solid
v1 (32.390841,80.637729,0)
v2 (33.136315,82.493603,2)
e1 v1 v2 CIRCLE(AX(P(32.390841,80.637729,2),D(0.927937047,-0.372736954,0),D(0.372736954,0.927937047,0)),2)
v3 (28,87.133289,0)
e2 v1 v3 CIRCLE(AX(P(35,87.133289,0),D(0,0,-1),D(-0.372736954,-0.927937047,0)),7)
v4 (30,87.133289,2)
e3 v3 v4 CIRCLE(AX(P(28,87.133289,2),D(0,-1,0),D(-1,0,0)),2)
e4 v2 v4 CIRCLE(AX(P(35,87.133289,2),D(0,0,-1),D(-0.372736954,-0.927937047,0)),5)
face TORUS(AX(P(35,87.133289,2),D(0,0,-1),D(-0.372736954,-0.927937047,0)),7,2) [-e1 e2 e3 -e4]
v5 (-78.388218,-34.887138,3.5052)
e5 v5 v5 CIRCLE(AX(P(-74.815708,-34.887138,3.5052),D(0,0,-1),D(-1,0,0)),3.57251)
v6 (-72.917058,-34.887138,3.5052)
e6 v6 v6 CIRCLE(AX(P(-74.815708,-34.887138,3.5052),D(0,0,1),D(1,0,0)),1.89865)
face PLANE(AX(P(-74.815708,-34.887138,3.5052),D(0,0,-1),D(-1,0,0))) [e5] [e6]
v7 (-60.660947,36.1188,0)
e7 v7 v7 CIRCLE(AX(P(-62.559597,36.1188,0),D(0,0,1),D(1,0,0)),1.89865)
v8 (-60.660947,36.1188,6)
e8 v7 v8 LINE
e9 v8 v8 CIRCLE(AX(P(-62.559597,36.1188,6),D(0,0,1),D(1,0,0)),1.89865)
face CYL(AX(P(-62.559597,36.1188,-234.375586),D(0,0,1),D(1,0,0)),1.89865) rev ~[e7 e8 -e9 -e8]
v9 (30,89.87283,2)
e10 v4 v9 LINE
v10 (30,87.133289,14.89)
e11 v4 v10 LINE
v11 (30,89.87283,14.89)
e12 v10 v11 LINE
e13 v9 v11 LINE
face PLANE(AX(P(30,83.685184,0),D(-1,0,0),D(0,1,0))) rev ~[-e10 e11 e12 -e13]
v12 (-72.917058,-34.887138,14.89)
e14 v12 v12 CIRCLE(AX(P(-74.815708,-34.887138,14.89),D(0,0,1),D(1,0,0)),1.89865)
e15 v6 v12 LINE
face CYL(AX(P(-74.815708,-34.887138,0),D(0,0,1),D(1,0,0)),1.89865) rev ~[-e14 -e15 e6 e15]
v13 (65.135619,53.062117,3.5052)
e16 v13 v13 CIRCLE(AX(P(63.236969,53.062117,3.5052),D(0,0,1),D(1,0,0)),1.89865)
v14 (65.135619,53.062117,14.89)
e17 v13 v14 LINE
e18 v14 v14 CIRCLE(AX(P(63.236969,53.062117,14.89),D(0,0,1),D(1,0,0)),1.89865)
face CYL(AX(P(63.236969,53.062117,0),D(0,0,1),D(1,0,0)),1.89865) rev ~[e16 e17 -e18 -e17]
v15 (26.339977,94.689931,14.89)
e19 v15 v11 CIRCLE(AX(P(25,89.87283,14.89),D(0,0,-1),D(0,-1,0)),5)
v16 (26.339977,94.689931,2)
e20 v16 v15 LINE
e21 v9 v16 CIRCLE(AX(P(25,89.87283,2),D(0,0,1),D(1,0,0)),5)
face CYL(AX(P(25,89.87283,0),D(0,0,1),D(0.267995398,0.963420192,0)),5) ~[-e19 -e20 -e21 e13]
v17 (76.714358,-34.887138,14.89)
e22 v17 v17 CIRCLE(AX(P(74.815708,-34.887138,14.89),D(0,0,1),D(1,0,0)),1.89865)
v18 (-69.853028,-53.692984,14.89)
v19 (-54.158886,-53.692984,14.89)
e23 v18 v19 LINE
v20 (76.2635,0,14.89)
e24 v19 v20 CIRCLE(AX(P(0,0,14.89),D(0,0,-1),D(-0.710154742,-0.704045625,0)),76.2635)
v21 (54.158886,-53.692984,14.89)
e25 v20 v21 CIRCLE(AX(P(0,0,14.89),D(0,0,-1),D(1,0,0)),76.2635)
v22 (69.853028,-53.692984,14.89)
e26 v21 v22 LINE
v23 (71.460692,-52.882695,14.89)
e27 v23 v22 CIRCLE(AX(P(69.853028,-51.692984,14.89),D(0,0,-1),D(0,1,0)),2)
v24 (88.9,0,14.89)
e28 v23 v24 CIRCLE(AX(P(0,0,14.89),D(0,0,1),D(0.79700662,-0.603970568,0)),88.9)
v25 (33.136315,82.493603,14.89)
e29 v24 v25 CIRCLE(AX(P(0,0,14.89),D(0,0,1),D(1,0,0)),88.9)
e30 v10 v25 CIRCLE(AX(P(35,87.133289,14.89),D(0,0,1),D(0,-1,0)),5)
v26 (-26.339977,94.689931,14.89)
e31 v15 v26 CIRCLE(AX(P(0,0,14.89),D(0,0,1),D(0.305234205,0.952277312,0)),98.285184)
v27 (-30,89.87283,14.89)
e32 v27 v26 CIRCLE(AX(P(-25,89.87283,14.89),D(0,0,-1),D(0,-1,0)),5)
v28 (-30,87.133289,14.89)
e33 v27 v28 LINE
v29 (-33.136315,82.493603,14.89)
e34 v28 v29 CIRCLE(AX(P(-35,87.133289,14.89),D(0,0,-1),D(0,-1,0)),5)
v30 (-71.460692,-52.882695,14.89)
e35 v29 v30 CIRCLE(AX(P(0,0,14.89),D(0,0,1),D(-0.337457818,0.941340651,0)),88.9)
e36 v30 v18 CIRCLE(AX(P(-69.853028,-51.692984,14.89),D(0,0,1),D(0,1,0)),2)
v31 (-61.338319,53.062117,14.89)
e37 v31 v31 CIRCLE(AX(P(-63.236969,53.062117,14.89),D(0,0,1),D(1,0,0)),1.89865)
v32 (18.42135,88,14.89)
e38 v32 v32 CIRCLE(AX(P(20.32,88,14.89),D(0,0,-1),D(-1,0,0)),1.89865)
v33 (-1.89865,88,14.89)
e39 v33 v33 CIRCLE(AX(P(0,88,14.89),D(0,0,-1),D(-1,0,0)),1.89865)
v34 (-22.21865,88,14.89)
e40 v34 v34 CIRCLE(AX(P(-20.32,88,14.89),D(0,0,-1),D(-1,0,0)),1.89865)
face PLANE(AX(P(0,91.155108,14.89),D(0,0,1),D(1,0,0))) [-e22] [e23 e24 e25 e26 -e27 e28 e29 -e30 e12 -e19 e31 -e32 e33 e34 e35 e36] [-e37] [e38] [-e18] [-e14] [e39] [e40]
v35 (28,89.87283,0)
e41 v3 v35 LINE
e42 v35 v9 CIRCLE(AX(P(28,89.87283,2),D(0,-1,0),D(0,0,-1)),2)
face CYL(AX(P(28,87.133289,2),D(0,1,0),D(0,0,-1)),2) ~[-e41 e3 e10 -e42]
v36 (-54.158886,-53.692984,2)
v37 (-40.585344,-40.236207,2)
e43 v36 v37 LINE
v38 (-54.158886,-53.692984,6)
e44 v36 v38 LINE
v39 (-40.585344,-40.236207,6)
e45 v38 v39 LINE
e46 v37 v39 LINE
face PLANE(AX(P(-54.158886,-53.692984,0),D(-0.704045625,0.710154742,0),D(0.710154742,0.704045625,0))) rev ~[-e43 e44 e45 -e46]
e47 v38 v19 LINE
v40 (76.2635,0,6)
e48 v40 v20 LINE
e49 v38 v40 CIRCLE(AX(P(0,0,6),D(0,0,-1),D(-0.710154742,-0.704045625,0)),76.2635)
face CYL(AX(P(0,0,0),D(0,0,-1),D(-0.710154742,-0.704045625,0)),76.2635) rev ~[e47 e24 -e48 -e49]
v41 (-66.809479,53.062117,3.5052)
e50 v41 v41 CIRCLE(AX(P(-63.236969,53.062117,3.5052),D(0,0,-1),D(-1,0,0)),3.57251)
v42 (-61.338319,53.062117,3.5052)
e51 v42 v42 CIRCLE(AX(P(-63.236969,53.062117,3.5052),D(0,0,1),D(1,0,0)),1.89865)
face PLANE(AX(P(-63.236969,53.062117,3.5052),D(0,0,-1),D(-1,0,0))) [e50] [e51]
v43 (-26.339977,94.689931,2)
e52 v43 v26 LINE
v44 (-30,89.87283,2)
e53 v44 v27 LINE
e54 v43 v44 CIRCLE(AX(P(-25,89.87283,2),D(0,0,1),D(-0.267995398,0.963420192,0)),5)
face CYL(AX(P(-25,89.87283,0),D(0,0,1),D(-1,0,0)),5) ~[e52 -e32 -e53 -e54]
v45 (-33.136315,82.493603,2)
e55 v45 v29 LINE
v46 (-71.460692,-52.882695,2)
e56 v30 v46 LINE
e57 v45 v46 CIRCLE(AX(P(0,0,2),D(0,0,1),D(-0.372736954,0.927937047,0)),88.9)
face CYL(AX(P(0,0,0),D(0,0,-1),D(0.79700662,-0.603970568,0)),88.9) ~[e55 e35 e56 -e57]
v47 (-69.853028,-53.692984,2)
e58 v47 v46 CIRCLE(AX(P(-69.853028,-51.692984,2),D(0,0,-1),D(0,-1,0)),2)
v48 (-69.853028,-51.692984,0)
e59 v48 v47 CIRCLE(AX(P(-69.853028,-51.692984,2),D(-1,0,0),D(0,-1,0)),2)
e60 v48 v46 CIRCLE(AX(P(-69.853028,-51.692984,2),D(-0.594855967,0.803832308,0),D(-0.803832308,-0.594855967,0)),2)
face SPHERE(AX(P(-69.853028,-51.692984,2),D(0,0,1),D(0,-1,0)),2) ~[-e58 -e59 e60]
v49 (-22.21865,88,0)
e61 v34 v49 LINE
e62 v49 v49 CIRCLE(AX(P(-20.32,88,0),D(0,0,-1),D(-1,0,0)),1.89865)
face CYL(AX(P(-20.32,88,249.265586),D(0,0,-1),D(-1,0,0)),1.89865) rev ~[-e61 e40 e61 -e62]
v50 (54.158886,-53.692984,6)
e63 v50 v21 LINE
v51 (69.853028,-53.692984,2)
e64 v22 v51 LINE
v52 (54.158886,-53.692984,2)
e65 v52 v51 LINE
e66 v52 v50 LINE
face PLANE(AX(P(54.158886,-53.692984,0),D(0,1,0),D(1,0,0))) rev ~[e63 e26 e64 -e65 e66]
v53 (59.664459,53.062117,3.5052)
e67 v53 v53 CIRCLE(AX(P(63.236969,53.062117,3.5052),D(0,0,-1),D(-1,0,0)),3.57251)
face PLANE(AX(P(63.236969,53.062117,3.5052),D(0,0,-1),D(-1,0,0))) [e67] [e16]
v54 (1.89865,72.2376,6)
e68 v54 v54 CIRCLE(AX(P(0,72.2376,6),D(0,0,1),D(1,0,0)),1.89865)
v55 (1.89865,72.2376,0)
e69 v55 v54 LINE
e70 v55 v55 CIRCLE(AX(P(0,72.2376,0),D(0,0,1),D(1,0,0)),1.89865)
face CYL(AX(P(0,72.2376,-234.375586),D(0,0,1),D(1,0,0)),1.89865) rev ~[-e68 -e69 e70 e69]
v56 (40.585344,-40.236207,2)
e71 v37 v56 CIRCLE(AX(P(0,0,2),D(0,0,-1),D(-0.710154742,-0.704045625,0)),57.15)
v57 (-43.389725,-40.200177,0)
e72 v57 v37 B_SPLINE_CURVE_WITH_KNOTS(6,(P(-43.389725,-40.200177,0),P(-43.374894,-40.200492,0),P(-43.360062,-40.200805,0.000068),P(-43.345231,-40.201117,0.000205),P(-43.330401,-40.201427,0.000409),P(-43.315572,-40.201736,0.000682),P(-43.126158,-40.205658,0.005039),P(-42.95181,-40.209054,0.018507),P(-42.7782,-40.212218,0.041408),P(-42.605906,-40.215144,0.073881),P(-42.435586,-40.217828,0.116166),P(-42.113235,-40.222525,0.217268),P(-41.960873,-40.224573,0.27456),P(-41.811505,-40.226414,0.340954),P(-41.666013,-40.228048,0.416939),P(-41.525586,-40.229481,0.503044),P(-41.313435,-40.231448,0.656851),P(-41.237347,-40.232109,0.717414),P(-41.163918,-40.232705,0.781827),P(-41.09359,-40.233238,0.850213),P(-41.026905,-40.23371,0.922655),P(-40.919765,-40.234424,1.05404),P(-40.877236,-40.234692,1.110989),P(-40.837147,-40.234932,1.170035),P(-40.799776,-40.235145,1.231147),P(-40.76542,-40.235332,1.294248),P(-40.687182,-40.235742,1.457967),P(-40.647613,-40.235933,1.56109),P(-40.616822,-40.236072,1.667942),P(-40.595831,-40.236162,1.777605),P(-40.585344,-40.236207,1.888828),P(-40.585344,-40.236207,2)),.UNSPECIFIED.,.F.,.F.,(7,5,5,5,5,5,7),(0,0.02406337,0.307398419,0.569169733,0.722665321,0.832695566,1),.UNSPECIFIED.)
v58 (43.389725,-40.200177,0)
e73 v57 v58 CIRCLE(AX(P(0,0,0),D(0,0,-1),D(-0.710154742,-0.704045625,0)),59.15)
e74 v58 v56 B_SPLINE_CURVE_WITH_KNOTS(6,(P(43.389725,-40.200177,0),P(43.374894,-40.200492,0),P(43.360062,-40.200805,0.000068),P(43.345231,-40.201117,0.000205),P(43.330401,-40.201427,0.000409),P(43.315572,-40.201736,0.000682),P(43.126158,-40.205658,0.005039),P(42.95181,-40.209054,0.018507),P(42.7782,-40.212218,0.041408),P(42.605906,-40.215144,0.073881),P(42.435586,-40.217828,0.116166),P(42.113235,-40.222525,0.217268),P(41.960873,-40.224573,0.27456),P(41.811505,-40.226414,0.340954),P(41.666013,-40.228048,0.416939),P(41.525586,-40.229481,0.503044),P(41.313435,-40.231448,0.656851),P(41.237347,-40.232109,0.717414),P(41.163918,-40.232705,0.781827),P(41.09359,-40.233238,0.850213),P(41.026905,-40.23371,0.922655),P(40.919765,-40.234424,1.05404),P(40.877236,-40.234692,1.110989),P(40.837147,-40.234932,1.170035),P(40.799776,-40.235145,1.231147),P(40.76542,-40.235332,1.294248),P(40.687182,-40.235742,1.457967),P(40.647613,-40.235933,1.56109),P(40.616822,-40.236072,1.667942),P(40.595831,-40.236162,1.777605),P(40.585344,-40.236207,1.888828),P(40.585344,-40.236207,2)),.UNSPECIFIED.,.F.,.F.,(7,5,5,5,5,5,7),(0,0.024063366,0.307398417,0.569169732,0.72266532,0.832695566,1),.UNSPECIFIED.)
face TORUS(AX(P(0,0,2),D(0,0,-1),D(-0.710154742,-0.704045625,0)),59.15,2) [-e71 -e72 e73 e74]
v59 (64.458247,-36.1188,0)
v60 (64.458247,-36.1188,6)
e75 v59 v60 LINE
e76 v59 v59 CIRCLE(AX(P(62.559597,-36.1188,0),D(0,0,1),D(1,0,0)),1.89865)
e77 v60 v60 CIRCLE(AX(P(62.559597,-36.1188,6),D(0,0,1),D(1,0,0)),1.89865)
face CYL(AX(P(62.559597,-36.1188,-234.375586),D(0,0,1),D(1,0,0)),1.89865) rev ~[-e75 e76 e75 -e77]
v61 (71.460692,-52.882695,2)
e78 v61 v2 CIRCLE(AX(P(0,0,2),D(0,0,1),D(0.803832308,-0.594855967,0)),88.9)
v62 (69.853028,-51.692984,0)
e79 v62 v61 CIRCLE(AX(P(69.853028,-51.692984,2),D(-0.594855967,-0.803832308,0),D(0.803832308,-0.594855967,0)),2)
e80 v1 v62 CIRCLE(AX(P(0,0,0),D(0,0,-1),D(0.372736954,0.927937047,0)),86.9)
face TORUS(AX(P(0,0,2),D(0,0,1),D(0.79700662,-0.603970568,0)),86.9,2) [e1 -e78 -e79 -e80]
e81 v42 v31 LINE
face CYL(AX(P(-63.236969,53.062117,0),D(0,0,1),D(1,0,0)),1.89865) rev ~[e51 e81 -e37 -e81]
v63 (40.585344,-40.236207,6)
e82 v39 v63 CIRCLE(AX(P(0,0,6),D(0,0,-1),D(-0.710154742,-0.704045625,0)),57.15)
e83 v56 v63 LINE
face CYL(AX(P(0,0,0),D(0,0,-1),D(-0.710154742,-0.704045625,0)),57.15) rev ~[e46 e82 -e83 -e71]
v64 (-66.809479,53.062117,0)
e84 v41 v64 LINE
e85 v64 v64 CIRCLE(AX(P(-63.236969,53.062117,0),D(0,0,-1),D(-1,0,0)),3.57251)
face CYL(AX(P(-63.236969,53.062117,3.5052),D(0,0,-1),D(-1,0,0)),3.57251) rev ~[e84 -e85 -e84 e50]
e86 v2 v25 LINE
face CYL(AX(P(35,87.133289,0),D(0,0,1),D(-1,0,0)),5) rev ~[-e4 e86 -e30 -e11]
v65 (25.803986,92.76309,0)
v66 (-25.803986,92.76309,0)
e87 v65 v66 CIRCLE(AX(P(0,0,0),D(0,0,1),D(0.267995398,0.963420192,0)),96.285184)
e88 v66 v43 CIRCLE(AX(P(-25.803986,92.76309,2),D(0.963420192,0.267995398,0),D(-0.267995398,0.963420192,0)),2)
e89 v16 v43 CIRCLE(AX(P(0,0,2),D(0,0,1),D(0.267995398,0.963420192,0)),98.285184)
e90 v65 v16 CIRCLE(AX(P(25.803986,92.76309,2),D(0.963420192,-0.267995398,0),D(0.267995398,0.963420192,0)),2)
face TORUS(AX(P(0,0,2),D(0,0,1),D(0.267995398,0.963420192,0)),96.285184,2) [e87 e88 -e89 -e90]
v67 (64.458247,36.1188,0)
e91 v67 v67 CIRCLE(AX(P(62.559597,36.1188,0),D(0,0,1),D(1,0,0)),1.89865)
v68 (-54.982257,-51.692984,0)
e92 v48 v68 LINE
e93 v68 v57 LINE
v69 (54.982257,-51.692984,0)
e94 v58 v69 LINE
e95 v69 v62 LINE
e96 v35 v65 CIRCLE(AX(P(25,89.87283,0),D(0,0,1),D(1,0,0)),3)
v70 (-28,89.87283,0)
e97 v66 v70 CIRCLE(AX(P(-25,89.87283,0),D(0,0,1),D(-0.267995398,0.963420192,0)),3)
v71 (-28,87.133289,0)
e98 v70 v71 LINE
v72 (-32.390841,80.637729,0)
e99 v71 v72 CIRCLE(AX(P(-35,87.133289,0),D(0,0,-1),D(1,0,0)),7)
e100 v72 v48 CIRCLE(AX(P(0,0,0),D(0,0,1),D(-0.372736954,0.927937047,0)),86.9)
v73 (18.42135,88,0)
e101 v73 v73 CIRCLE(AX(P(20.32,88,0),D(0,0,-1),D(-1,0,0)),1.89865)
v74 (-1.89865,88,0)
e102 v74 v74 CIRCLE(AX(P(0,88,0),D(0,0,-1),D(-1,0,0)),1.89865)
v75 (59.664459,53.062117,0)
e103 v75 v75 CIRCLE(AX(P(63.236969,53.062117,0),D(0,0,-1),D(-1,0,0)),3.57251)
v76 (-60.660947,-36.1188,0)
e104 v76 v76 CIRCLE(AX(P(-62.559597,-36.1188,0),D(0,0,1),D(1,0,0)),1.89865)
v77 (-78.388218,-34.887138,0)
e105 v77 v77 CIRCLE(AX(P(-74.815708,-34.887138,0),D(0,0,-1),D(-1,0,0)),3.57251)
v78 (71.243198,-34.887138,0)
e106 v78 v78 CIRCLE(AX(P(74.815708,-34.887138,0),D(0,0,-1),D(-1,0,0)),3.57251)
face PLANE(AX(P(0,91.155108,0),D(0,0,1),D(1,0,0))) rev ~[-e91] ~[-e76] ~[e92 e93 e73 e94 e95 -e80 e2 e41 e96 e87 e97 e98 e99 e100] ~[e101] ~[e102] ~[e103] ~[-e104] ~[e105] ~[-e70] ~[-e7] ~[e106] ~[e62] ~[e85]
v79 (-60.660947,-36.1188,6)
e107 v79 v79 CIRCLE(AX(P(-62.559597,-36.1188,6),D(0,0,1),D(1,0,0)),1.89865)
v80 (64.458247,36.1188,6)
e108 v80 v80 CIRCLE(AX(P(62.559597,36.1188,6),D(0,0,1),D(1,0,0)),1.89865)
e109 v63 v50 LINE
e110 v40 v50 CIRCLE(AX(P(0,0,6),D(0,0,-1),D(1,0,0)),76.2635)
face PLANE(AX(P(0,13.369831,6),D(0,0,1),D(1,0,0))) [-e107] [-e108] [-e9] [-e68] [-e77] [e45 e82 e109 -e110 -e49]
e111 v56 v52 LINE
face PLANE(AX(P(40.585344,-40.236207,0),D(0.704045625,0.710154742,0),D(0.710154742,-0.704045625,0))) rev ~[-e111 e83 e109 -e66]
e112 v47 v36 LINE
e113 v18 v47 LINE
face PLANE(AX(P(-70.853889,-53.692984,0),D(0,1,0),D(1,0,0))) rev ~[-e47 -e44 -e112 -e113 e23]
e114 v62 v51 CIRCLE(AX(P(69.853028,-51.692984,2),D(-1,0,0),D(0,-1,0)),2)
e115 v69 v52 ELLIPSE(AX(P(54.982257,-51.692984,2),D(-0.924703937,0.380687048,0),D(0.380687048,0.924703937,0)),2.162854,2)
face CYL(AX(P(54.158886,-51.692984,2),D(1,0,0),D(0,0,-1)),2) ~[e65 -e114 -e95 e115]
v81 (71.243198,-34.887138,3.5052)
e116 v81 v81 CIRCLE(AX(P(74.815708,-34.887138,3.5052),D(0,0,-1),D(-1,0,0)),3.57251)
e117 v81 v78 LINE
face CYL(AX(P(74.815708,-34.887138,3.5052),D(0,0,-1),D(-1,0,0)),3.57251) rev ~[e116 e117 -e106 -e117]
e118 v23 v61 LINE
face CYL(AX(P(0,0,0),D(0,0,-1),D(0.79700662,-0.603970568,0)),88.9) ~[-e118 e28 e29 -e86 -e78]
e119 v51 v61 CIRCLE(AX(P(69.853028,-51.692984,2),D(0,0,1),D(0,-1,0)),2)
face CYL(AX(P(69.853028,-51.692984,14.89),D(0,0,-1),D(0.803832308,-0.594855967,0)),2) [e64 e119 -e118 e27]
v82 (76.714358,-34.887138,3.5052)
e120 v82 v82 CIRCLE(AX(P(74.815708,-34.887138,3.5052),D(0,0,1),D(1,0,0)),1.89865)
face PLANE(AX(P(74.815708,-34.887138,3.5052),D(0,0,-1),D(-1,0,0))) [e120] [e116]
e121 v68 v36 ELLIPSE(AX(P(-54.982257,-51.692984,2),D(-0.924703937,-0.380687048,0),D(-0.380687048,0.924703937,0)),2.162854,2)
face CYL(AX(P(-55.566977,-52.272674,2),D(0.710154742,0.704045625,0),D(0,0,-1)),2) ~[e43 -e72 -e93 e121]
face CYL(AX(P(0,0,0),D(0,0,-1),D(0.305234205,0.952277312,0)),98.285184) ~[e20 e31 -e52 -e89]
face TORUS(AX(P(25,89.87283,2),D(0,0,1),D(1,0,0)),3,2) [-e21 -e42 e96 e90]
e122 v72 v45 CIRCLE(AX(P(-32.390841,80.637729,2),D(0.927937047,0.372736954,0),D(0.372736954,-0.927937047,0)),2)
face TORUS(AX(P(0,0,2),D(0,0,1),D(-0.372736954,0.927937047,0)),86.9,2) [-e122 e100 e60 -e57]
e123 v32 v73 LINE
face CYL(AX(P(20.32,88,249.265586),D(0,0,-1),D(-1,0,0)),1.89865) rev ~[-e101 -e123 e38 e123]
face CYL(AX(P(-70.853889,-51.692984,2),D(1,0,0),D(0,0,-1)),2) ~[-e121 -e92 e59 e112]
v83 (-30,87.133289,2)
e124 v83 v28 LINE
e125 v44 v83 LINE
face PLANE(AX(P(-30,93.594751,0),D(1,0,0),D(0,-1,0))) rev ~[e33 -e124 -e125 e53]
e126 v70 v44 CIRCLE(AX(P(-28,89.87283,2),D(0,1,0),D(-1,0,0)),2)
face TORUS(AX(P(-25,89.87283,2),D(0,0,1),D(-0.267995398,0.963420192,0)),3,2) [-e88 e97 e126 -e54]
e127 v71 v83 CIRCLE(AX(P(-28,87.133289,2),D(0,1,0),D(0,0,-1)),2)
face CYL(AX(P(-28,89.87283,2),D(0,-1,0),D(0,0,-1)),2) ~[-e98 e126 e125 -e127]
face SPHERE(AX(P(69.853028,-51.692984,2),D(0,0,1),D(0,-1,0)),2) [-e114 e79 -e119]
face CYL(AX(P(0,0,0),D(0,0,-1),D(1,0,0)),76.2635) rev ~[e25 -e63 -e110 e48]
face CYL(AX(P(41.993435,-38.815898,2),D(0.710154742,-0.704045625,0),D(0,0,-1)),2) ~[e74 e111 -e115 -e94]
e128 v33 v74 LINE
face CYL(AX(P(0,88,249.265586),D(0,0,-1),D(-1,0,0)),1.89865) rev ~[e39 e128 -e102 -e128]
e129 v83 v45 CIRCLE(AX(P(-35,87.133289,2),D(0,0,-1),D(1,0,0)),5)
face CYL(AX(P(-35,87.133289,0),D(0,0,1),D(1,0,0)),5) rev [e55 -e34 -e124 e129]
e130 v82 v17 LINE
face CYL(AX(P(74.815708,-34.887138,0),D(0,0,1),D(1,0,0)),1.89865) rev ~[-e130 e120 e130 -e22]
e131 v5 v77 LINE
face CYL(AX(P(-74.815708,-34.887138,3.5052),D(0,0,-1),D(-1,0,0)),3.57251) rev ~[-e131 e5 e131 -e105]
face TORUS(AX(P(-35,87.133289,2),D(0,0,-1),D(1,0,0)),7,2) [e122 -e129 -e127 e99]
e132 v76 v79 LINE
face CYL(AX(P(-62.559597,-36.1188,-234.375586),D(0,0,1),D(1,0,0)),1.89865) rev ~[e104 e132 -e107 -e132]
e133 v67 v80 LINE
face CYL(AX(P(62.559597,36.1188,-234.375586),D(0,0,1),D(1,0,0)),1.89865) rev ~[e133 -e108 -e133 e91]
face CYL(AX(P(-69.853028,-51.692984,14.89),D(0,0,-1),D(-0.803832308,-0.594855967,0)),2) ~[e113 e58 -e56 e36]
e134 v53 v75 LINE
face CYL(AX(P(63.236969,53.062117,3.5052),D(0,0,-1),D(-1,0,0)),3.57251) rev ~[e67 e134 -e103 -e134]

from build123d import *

# Parameters (mm, degrees)
BOSS_EXTRUDE1_DEPTH                            = 6
BOSS_EXTRUDE2_DEPTH                            = 14.89
BOSS_EXTRUDE3_DEPTH                            = 14.89
CBORE_FOR_6_SOCKET_HEAD_CAP_SCREW1_D           = 3.7973
CBORE_FOR_6_SOCKET_HEAD_CAP_SCREW1_CBORE_D     = 7.14502
CBORE_FOR_6_SOCKET_HEAD_CAP_SCREW1_CBORE_DEPTH = 3.5052
F_6_CLEARANCE_HOLE1_D                          = 3.7973
FILLET1_R                                      = 5
FILLET2_R                                      = 5
FILLET3_R                                      = 2
F_6_CLEARANCE_HOLE2_D                          = 3.7973


with BuildPart() as part:
    # Sketch1 → Boss-Extrude1 (new body)
    with BuildSketch(Plane.XY):
        with BuildLine():
            Line((-70.853888546, -53.692983507), (-54.158886199, -53.692983507))
            Line((-54.158886199, -53.692983507), (-40.58534353, -40.236207458))
            ThreePointArc((-40.58534353, -40.236207458), (0, 57.15), (40.58534353, -40.236207458))
            Line((40.58534353, -40.236207458), (54.158886199, -53.692983507))
            Line((54.158886199, -53.692983507), (70.853888546, -53.692983507))
            ThreePointArc((70.853888546, -53.692983507), (0, 88.9), (-70.853888546, -53.692983507))
        make_face()
    extrude(amount=BOSS_EXTRUDE1_DEPTH)

    # Sketch1<3> → Boss-Extrude2 (add)
    with BuildSketch(Plane.XY):
        with BuildLine():
            ThreePointArc((30, 83.685183874), (0, 88.9), (-30, 83.685183874))
            ThreePointArc((-30, 83.685183874), (-85.211894281, 25.340542083), (-70.853888546, -53.692983507))
            Line((-70.853888546, -53.692983507), (-54.158886199, -53.692983507))
            ThreePointArc((-54.158886199, -53.692983507), (-29.032526712, 70.521158704), (76.2635, 0))
            ThreePointArc((76.2635, 0), (70.521158704, -29.032526712), (54.158886199, -53.692983507))
            Line((54.158886199, -53.692983507), (70.853888546, -53.692983507))
            ThreePointArc((70.853888546, -53.692983507), (84.267789492, -28.322246629), (88.9, 0))
            ThreePointArc((88.9, 0), (72.698727637, 51.167421276), (30, 83.685183874))
        make_face()
    extrude(amount=BOSS_EXTRUDE2_DEPTH)

    # Sketch1<4> → Boss-Extrude3 (add)
    with BuildSketch(Plane.XY):
        with BuildLine():
            Line((-30, 93.594750756), (-30, 83.685183874))
            ThreePointArc((-30, 83.685183874), (0, 88.9), (30, 83.685183874))
            Line((30, 83.685183874), (30, 93.594750756))
            ThreePointArc((30, 93.594750756), (0, 98.285183874), (-30, 93.594750756))
        make_face()
    extrude(amount=BOSS_EXTRUDE3_DEPTH)

    # CBORE for #6 Socket Head Cap Screw1 (through all)
    with Locations(Plane(origin=(74.81570782, -34.887137507, 0), x_dir=(-1, 0, 0), z_dir=(0, 0, -1))):
        with Locations((0, 0), (11.578739041, 87.949254687), (138.052676599, 87.949254687), (149.63141564, 0)):
            CounterBoreHole(CBORE_FOR_6_SOCKET_HEAD_CAP_SCREW1_D / 2, CBORE_FOR_6_SOCKET_HEAD_CAP_SCREW1_CBORE_D / 2, CBORE_FOR_6_SOCKET_HEAD_CAP_SCREW1_CBORE_DEPTH)

    # #6 Clearance Hole1 (through all)
    with Locations(Plane(origin=(0, 88, 14.89), x_dir=(1, 0, 0), z_dir=(0, 0, 1))):
        with Locations((0, 0), (20.32, 0), (-20.32, 0)):
            Hole(F_6_CLEARANCE_HOLE1_D / 2)

    # Fillet1
    fillet1_edges = [part.edges().sort_by_distance(p)[0] for p in [
        (30, 83.685183874, 7.445),
        (-30, 83.685183874, 7.445),
    ]]
    fillet(fillet1_edges, radius=FILLET1_R)

    # Fillet2
    fillet2_edges = [part.edges().sort_by_distance(p)[0] for p in [
        (-30, 93.594750756, 7.445),
        (30, 93.594750756, 7.445),
    ]]
    fillet(fillet2_edges, radius=FILLET2_R)

    # Fillet3
    fillet3_edges = [part.edges().sort_by_distance(p)[0] for p in [
        (-85.674892695, 23.728100677, 0),
        (-30.857632087, 84.333147978, 0),
        (-30, 88.503059235, 0),
        (-28.981198623, 92.897735968, 0),
        (0, 98.285183874, 0),
        (28.981198623, 92.897735968, 0),
        (30, 88.503059235, 0),
        (30.857632087, 84.333147978, 0),
        (85.674892695, 23.728100677, 0),
        (0, 57.15, 0),
        (70.853888546, -53.692983507, 7.445),
        (62.506387373, -53.692983507, 0),
        (47.372114864, -46.964595482, 0),
        (-70.853888546, -53.692983507, 7.445),
        (-47.372114864, -46.964595482, 0),
        (-62.506387373, -53.692983507, 0),
    ]]
    fillet(fillet3_edges, radius=FILLET3_R)

    # #6 Clearance Hole2 (through all)
    with Locations(Plane(origin=(62.559596708, -36.1188, 0), x_dir=(-1, 0, 0), z_dir=(0, 0, -1))):
        with Locations((0, 0), (0, 72.2376), (62.559596708, 108.3564), (125.119193416, 72.2376), (125.119193416, 0)):
            Hole(F_6_CLEARANCE_HOLE2_D / 2)


solid = part.part
